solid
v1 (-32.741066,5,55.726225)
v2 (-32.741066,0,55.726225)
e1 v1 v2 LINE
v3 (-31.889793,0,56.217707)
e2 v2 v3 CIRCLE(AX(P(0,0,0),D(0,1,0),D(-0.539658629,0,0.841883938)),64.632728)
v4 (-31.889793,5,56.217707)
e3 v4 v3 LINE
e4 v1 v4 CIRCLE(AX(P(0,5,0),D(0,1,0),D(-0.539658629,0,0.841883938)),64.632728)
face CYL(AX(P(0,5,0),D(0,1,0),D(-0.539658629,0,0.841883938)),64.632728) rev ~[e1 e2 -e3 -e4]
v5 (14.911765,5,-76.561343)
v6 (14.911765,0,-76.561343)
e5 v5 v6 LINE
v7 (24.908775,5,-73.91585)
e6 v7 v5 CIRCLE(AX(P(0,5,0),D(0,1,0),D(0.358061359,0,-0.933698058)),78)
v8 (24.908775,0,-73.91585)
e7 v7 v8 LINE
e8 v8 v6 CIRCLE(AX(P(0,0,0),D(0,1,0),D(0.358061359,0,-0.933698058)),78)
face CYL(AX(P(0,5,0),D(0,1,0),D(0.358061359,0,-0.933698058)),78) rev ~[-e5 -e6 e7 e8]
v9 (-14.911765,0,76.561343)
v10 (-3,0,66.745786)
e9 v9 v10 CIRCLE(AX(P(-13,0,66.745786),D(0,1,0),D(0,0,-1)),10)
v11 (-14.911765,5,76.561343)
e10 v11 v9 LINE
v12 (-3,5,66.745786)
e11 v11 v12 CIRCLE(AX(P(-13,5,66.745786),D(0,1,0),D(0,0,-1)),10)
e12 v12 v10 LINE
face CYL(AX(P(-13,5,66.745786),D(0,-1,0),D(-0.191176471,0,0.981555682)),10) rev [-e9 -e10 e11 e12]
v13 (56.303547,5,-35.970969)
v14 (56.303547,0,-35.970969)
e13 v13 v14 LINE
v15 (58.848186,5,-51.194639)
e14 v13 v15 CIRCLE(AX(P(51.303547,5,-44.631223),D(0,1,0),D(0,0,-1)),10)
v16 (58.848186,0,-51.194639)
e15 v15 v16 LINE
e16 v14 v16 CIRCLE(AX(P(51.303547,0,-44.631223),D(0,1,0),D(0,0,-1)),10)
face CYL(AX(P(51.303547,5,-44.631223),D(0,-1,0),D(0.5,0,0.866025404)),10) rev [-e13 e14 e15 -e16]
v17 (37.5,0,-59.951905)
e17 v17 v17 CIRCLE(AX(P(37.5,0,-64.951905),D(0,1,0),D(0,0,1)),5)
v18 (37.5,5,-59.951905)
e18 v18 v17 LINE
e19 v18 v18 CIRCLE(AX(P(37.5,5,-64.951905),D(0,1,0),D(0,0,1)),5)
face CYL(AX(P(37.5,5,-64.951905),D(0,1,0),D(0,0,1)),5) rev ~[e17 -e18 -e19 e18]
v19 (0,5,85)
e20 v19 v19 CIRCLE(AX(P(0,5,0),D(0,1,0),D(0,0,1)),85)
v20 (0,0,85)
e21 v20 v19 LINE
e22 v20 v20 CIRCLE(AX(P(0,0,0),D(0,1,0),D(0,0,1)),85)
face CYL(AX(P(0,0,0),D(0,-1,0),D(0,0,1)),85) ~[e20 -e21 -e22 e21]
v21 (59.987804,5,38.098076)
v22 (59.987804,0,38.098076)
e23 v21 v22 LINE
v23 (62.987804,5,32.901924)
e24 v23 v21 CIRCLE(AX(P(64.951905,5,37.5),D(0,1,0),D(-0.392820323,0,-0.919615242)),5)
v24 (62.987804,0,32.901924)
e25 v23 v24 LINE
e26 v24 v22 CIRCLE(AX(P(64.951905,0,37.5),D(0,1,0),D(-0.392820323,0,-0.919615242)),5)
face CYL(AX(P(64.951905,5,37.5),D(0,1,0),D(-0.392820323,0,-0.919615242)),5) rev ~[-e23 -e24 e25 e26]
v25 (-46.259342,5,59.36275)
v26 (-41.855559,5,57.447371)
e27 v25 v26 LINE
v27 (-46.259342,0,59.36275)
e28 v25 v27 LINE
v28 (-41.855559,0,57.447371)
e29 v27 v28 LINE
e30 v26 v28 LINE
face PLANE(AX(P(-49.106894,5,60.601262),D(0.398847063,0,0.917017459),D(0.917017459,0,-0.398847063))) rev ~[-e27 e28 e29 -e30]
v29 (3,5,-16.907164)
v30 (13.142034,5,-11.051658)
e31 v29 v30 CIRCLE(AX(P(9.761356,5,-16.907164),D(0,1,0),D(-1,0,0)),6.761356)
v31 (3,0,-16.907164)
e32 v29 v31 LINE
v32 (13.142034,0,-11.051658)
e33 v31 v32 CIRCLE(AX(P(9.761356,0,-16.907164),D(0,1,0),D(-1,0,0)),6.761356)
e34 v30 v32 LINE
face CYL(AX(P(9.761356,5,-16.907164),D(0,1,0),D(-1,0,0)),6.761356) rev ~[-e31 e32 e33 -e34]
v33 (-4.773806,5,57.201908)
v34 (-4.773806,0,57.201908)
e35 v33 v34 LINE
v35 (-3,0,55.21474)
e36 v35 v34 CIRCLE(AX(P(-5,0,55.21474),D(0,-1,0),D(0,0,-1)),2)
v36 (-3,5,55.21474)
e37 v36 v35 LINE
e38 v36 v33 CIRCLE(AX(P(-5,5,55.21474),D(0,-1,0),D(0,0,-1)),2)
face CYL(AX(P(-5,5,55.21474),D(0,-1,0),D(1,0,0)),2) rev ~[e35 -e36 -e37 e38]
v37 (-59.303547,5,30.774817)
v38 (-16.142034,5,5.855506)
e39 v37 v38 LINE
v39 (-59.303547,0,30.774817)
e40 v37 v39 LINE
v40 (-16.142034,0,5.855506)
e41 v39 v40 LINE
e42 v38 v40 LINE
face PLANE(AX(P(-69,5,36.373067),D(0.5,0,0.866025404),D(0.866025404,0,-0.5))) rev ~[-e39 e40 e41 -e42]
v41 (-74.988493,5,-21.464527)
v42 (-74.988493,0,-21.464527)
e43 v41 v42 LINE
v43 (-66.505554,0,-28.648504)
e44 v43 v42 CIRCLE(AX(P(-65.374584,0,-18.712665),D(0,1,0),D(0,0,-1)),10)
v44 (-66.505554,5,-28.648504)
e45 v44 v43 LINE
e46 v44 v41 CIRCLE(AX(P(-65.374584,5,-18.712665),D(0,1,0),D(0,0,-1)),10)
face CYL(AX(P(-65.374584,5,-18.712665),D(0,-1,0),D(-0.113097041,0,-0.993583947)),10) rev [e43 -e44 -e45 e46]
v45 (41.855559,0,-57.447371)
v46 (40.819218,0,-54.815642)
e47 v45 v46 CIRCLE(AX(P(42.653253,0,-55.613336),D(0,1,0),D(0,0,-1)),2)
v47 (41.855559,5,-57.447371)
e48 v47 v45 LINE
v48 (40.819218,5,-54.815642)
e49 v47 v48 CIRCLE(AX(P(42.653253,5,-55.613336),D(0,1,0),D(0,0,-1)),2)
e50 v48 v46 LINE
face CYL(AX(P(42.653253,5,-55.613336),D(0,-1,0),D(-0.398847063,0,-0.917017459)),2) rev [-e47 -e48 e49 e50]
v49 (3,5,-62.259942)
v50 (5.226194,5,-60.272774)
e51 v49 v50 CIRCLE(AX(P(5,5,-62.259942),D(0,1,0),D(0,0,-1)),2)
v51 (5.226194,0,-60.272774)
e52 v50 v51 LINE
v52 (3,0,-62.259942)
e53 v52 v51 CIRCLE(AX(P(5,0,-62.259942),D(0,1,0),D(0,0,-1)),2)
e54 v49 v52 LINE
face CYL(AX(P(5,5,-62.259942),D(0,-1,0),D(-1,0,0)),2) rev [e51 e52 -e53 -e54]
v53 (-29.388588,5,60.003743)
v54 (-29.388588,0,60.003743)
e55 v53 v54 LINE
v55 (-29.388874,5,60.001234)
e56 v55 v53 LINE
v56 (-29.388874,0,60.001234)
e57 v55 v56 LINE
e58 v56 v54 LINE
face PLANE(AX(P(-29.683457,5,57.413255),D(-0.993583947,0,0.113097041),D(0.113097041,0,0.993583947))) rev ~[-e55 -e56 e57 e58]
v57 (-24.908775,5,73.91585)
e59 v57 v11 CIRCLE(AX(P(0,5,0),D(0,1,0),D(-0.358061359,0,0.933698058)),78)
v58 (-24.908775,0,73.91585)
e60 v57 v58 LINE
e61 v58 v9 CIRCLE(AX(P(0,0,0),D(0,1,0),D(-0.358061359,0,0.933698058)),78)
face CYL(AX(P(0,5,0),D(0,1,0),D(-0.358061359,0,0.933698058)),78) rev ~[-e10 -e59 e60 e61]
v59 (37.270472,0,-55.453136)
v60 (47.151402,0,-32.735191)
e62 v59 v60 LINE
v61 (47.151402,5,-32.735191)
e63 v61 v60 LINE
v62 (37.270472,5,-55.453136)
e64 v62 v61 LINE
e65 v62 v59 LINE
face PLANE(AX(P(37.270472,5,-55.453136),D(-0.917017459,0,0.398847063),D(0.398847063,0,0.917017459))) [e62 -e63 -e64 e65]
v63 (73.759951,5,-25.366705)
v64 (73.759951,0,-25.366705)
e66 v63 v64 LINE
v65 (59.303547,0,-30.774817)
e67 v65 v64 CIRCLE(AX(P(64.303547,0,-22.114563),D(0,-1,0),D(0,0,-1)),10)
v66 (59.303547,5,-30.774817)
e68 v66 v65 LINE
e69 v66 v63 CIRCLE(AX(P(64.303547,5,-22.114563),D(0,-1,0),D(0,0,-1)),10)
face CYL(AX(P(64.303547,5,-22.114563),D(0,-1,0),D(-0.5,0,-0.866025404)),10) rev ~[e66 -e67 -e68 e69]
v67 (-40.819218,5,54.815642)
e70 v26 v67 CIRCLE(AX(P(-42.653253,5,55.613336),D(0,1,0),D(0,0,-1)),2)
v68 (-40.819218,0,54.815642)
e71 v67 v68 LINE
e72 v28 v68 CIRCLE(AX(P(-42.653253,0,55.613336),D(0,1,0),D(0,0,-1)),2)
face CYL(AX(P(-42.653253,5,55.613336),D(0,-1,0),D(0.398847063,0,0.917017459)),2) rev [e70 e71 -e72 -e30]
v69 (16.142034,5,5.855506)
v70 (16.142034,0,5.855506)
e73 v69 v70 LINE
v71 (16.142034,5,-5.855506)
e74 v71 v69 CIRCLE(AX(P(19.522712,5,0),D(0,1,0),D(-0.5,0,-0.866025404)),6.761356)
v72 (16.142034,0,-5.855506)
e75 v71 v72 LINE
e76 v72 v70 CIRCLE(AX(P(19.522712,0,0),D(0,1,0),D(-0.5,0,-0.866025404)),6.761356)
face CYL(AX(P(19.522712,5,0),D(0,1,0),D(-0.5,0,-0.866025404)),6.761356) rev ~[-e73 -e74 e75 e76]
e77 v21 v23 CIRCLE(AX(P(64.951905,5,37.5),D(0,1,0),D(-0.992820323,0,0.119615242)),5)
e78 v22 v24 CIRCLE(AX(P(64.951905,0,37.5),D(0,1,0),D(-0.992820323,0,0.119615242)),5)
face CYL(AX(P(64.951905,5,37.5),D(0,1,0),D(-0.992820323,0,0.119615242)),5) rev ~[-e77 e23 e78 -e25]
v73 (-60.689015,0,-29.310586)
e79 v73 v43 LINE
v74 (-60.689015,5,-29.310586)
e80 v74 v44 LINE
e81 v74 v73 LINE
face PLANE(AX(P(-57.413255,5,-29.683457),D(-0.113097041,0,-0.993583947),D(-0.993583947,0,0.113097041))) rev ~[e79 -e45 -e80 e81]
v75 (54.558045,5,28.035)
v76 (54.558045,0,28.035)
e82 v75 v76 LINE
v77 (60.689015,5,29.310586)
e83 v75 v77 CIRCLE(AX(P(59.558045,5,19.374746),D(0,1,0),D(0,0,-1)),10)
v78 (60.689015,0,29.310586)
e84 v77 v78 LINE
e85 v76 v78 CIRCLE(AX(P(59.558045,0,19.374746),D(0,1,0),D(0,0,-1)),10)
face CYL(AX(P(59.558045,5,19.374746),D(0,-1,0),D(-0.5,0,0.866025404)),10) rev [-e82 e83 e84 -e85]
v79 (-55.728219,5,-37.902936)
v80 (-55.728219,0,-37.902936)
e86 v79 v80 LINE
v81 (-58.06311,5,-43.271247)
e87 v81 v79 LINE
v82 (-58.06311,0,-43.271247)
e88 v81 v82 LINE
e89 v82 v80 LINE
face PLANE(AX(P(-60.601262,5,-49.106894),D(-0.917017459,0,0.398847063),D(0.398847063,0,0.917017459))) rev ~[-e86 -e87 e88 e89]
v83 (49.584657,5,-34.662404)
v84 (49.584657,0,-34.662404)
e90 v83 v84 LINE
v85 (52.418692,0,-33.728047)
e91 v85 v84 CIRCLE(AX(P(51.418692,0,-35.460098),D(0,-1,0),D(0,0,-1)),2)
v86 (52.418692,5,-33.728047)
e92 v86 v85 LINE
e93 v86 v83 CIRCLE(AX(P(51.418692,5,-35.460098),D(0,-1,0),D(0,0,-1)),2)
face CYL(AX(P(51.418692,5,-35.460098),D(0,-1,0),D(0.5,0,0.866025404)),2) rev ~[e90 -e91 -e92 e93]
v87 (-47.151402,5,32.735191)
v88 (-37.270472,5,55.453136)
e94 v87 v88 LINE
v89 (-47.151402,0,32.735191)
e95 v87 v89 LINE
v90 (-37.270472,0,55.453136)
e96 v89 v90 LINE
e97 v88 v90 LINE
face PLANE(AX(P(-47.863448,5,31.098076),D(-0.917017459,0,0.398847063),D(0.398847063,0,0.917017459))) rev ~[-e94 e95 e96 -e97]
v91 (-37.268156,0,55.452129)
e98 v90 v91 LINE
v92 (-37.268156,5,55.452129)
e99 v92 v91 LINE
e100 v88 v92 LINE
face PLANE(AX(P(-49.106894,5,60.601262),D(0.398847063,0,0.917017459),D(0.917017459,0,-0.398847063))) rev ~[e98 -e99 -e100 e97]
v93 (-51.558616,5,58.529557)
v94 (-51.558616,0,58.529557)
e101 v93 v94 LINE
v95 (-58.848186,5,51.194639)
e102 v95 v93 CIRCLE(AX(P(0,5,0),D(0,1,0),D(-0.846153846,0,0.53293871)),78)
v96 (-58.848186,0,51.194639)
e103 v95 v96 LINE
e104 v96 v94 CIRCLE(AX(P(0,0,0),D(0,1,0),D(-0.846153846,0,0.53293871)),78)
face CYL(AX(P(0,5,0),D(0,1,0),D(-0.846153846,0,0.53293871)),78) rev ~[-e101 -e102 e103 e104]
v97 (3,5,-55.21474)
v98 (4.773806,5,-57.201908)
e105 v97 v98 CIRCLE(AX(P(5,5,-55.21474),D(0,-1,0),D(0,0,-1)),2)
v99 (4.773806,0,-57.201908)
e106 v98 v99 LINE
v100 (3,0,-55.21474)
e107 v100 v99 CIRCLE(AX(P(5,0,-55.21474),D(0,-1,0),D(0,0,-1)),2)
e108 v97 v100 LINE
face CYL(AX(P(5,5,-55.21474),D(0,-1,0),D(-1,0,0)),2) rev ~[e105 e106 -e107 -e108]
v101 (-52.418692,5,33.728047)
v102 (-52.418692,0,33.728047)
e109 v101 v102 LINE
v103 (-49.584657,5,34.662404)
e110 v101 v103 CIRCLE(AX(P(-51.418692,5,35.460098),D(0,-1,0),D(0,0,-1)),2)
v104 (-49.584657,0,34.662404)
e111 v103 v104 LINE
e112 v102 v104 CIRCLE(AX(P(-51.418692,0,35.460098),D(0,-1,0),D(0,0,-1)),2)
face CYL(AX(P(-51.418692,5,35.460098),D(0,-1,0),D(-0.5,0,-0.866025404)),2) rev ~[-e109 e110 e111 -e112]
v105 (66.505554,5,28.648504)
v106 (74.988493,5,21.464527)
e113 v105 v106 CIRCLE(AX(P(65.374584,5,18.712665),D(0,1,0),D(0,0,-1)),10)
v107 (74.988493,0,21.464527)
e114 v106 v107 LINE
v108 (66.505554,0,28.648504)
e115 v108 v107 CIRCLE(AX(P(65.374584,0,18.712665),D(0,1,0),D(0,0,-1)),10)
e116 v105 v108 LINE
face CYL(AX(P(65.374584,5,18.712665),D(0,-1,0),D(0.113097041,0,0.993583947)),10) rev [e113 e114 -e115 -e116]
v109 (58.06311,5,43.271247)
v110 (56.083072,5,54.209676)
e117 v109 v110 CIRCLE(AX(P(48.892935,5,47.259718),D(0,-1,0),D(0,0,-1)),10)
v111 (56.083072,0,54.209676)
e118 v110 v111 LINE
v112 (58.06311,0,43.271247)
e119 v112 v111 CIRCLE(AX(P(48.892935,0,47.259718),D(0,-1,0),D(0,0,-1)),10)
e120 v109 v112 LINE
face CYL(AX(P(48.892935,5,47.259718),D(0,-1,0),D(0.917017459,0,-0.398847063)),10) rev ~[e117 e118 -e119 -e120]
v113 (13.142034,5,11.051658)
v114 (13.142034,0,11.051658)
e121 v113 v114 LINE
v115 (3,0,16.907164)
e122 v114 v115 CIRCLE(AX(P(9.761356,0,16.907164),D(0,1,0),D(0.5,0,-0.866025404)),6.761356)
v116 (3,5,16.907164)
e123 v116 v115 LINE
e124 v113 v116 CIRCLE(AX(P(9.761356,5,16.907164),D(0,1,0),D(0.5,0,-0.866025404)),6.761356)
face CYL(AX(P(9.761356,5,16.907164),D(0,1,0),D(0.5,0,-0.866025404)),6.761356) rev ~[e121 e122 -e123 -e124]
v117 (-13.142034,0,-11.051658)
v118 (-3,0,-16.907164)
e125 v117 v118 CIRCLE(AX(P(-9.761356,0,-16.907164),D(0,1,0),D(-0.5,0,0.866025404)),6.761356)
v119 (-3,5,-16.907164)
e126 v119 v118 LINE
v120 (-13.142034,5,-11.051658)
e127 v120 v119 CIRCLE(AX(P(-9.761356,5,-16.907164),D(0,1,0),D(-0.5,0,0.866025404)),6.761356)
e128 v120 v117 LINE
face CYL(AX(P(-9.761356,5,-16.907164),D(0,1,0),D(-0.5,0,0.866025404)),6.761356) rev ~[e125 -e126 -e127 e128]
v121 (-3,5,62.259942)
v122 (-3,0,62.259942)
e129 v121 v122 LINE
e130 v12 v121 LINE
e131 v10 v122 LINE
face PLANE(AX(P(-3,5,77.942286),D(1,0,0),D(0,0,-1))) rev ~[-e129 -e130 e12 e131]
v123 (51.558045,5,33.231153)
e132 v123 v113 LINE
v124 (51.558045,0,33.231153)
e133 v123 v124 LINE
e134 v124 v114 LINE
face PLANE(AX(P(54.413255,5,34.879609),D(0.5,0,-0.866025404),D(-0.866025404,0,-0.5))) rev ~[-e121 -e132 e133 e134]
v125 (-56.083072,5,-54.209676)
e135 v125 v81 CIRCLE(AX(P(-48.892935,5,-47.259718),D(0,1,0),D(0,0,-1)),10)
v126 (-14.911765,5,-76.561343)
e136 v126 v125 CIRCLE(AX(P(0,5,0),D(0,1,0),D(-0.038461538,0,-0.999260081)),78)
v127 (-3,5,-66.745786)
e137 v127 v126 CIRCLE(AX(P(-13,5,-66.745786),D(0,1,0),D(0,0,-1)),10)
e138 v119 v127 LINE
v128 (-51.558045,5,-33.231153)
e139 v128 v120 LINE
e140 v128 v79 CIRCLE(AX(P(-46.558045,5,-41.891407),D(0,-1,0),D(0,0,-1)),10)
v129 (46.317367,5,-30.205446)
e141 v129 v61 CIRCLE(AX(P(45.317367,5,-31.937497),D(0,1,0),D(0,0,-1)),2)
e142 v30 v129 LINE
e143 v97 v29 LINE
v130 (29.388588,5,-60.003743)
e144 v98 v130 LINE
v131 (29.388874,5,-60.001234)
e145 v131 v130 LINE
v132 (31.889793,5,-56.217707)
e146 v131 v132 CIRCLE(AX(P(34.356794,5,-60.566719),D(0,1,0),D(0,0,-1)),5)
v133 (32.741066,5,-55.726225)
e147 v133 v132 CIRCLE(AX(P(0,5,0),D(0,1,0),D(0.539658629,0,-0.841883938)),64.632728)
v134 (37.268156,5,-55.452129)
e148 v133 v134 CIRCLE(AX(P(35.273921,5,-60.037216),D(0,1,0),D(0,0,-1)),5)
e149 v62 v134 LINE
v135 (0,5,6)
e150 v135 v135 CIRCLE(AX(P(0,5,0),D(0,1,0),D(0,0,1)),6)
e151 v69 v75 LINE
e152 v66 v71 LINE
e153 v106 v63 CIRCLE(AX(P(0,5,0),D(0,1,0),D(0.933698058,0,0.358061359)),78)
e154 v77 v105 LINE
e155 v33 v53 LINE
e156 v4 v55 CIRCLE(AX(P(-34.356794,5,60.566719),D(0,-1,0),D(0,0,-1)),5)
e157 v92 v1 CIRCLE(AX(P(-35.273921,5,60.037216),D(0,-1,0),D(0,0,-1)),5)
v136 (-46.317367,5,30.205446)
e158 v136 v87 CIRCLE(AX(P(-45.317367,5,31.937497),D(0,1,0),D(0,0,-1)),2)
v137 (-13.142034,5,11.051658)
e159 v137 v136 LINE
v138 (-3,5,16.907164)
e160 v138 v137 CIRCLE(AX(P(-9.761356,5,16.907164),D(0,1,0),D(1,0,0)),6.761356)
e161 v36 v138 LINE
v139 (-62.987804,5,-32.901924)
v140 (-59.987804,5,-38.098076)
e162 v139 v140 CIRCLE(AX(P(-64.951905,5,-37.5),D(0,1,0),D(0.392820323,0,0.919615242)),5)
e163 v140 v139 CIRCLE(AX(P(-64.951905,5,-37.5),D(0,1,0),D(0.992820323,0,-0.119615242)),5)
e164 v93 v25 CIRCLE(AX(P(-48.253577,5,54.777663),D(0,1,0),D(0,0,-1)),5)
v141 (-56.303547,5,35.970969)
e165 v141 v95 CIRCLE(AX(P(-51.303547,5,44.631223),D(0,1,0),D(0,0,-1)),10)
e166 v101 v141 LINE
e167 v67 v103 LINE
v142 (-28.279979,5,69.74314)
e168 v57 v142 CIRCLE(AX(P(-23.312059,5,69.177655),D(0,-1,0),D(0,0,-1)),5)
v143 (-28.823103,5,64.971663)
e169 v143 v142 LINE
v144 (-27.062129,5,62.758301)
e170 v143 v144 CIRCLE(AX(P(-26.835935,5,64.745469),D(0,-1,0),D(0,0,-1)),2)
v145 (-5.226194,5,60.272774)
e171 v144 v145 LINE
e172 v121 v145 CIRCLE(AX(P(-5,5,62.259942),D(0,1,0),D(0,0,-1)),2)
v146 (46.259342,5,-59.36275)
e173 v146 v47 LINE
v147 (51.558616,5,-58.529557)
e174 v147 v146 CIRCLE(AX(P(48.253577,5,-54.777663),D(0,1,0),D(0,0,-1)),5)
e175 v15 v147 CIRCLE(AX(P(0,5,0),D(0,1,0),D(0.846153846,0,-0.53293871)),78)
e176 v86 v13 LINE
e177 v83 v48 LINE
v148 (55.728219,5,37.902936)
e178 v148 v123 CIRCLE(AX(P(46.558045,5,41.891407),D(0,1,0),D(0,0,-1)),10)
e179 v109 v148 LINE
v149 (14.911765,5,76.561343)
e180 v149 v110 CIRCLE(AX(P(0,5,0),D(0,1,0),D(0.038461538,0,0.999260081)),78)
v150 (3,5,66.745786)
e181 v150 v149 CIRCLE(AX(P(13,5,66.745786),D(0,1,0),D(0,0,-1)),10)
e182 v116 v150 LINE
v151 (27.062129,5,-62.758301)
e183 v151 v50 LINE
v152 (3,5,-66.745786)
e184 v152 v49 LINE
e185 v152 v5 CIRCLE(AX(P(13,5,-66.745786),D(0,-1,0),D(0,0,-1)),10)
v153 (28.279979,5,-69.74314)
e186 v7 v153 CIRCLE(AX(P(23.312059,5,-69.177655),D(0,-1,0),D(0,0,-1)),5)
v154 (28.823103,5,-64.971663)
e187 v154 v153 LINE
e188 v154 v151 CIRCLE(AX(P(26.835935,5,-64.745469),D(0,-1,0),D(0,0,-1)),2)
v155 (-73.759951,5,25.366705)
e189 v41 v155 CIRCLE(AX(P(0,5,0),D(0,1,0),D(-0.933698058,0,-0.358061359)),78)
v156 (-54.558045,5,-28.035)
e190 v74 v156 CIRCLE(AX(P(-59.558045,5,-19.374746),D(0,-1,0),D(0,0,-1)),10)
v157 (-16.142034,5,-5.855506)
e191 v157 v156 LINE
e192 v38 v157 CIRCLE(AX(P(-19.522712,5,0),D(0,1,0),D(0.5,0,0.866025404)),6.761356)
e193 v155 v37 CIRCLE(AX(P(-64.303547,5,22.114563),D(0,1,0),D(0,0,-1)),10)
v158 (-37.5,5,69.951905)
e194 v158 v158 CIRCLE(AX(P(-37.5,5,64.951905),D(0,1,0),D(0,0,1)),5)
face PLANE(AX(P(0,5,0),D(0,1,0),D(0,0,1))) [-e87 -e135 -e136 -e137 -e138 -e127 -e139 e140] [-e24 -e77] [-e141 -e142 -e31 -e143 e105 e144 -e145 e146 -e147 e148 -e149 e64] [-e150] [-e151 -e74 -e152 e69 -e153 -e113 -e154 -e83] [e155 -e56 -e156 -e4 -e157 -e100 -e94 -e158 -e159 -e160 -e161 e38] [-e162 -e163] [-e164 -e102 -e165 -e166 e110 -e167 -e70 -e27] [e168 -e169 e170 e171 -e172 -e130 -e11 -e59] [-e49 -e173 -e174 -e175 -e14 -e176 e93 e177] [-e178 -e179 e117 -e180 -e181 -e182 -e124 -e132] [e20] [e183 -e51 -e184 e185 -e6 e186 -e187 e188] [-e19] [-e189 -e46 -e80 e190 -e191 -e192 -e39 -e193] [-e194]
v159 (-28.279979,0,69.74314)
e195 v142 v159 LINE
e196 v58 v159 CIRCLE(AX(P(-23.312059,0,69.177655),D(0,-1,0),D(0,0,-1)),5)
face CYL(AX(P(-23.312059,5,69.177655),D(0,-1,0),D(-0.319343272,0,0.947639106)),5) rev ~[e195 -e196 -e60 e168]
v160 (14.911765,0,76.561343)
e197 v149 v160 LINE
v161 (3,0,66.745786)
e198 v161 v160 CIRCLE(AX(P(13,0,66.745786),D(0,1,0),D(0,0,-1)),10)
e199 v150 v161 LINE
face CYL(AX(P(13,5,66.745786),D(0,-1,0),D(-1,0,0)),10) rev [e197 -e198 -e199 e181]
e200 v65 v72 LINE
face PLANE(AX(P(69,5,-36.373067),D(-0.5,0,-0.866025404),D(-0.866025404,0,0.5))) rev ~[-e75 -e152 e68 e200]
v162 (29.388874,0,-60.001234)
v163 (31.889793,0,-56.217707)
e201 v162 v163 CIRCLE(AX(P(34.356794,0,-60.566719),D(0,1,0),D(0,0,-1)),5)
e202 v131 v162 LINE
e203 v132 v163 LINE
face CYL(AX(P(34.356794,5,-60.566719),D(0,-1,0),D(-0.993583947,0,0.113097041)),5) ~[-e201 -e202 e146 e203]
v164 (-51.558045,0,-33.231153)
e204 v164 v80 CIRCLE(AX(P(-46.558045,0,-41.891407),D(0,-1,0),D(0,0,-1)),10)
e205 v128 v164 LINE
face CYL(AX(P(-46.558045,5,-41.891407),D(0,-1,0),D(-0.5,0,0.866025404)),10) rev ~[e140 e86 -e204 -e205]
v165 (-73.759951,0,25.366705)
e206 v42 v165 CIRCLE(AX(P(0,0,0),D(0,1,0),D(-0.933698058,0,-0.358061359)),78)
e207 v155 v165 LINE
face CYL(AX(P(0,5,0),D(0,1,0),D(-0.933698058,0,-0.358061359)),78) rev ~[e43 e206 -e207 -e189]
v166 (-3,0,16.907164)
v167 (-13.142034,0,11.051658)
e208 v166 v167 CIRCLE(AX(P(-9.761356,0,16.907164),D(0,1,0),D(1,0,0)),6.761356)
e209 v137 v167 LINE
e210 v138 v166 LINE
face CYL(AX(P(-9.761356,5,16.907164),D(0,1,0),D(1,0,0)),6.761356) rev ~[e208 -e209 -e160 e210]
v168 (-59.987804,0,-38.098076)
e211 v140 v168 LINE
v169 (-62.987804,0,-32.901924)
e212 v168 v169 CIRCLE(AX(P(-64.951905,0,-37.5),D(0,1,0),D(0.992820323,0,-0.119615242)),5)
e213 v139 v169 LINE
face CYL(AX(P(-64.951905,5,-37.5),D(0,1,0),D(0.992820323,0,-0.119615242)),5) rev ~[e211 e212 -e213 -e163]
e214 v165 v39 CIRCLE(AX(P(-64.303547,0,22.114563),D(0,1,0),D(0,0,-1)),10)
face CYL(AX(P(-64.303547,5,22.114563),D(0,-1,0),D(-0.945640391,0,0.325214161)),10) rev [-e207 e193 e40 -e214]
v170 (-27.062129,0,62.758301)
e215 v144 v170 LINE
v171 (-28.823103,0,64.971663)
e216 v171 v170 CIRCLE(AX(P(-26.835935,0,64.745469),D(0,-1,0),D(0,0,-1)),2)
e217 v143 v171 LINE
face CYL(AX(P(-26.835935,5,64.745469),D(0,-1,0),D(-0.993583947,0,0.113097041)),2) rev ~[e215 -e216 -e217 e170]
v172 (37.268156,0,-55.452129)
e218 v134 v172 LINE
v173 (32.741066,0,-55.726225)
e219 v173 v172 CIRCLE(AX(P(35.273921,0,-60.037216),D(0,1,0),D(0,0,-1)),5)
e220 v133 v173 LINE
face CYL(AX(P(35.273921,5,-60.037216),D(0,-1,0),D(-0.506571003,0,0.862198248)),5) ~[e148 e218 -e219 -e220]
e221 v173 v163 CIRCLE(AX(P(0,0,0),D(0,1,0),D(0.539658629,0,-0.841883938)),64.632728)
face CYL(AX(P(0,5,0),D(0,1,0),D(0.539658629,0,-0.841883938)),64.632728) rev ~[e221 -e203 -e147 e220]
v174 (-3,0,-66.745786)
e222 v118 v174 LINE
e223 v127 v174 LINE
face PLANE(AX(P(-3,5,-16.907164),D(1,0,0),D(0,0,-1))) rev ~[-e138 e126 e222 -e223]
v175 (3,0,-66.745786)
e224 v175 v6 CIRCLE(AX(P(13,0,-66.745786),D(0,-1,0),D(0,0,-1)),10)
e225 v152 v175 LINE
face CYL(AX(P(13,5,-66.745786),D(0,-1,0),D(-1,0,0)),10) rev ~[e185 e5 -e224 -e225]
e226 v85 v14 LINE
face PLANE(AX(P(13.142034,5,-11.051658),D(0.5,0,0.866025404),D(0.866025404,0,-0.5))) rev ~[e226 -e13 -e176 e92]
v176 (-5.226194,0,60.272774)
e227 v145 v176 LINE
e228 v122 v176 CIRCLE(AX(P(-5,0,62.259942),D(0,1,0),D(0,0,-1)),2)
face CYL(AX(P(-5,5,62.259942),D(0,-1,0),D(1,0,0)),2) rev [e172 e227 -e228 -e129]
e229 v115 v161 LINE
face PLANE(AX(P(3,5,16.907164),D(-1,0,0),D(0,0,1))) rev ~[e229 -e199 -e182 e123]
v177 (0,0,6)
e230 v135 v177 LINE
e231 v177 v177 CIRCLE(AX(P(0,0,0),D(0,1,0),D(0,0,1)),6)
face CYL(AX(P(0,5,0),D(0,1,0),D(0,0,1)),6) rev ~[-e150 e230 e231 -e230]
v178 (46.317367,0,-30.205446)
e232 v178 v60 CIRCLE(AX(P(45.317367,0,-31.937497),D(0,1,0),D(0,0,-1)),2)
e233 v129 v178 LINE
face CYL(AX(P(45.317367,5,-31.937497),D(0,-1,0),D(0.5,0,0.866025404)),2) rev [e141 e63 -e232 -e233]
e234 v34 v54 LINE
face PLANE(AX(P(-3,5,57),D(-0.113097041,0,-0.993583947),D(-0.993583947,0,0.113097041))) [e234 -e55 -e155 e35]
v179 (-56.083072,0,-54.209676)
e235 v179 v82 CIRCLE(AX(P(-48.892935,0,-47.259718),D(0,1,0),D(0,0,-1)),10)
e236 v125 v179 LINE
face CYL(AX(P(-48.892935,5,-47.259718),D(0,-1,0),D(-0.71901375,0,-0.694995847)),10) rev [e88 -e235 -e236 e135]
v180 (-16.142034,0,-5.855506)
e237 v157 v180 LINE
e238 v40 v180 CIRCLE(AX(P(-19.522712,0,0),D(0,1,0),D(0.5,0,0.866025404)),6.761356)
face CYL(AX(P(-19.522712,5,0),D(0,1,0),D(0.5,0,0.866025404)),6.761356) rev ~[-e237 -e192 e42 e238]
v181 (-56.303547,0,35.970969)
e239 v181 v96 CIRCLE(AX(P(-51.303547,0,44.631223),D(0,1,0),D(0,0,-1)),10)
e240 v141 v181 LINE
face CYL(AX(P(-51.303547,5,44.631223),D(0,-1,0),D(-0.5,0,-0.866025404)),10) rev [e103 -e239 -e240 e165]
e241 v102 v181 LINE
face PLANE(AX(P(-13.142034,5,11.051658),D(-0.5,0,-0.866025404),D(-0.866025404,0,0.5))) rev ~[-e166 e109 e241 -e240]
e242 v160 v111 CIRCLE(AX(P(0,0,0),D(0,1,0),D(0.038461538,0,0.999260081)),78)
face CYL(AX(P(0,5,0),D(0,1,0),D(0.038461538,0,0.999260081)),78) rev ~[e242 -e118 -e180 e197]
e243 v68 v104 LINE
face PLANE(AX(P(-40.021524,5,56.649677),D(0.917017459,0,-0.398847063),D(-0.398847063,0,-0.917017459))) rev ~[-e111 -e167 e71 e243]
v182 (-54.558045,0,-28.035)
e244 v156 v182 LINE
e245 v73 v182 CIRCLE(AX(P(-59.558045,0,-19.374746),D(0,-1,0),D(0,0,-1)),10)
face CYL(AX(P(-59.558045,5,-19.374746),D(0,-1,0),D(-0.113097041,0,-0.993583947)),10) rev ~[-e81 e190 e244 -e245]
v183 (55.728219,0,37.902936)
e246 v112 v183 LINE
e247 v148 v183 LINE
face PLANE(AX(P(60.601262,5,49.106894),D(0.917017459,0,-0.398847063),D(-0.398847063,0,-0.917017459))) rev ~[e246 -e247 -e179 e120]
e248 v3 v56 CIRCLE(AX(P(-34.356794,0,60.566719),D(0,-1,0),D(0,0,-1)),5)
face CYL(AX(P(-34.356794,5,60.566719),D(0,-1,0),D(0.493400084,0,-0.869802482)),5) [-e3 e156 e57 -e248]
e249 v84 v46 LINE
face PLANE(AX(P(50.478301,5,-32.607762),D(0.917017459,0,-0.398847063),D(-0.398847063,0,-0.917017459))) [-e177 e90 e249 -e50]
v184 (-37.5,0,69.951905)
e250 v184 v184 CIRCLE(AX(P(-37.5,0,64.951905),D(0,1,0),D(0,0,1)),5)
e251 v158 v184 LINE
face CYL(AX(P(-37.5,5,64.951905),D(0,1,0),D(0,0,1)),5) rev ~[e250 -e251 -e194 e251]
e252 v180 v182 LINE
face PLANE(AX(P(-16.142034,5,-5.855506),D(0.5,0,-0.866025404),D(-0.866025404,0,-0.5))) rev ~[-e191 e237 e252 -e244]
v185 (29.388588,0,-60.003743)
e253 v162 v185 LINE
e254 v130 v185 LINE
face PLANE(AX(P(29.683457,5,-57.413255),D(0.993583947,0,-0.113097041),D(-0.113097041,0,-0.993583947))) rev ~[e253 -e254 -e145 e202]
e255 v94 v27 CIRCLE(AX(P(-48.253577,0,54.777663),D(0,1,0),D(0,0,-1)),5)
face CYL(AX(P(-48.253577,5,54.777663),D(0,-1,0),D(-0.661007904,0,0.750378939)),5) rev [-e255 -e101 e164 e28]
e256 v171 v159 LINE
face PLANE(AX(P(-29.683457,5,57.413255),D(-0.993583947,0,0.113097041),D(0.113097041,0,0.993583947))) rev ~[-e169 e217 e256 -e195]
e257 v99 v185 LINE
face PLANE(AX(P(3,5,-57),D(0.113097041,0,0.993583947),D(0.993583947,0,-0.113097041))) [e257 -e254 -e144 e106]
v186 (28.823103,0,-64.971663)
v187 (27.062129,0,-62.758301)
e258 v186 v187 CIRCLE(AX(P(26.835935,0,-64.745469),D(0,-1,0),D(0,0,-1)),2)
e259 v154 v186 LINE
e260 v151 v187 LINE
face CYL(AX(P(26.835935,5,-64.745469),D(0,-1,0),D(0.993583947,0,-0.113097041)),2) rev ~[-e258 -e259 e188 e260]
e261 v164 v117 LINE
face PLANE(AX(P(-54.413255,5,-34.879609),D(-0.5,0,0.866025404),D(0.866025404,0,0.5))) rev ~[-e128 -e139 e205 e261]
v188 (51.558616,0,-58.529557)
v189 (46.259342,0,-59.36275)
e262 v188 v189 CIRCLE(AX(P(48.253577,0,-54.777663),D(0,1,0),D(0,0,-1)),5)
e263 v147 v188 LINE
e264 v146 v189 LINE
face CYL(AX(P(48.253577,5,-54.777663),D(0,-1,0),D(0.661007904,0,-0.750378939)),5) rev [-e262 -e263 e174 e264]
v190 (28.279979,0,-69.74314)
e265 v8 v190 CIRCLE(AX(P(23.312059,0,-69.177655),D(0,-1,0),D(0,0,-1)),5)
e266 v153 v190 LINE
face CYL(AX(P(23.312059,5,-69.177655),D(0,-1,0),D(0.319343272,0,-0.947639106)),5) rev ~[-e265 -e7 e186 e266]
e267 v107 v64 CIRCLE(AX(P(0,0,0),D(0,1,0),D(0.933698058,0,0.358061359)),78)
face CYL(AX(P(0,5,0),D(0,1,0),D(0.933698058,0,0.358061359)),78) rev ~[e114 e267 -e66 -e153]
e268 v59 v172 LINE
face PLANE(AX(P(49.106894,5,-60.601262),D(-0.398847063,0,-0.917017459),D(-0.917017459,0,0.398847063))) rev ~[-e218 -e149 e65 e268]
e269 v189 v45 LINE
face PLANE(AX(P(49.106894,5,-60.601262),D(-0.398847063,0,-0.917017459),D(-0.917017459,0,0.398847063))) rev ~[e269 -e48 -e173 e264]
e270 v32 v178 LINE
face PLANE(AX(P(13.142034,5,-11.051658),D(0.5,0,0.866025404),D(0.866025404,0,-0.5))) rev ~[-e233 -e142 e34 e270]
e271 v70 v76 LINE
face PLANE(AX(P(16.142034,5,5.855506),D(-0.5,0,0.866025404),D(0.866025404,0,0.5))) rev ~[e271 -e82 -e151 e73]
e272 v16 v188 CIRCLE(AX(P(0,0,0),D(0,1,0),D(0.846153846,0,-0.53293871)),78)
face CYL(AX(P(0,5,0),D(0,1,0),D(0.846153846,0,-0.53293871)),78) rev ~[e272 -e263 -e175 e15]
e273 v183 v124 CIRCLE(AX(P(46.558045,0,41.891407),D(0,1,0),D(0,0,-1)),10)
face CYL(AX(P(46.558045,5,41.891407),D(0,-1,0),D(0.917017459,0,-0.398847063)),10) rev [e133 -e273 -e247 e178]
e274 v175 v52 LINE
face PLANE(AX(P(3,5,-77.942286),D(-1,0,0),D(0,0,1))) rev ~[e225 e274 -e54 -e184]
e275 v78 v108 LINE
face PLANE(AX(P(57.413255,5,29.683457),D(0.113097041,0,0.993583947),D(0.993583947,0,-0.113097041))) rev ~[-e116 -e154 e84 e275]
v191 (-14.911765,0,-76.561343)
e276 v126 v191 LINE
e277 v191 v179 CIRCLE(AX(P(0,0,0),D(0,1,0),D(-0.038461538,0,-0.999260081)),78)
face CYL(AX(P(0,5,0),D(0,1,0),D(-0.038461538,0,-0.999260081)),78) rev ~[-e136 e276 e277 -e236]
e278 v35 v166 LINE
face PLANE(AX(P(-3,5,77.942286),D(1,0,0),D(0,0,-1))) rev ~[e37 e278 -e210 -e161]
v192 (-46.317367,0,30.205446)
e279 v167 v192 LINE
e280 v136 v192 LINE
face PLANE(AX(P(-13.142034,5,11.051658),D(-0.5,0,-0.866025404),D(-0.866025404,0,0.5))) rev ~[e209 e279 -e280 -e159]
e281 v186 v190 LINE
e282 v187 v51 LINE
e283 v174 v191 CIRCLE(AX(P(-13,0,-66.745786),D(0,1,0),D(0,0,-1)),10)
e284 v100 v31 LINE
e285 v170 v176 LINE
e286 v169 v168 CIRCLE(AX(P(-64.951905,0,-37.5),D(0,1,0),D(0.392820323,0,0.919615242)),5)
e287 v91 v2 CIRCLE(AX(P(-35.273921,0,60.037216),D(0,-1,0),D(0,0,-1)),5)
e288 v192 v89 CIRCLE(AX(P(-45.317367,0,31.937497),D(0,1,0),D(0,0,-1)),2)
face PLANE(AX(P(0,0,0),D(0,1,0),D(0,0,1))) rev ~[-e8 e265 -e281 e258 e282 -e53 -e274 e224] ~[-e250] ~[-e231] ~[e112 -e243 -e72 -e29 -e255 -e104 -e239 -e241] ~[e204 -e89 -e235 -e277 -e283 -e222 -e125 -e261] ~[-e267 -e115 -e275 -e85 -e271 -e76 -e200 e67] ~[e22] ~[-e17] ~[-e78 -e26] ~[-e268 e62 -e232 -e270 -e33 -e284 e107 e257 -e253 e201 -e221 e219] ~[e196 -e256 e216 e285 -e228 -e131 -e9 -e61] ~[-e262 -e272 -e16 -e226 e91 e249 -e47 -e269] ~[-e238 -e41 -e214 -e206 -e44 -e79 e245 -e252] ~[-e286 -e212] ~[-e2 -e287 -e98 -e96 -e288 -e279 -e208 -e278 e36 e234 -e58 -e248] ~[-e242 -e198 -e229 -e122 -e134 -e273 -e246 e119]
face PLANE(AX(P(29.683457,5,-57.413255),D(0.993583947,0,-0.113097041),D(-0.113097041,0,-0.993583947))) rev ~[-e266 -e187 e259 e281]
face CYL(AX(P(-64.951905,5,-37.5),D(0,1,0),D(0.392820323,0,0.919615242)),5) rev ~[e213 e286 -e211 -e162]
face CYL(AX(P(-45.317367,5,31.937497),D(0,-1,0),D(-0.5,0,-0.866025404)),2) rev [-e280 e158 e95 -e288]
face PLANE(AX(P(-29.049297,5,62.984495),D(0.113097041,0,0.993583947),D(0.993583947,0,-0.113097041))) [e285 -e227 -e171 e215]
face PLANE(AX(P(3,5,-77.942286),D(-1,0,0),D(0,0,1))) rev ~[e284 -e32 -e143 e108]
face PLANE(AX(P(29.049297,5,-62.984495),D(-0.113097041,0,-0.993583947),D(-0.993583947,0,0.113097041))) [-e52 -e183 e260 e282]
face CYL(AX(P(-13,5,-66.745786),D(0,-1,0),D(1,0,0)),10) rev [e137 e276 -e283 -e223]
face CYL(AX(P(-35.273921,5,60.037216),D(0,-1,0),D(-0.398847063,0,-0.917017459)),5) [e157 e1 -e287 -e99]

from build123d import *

# Parameters (mm, degrees)
SZKIC1_R                    = 85
DODANIE_WYCI_GNI_CIE1_DEPTH = 5
SZKIC2_R                    = 5
SZKIC2_R_2                  = 6
WYTNIJ_WYCI_GNI_CIE2_DEPTH  = 5
ZAOKR_GLENIE2_R             = 10
ZAOKR_GLENIE4_R             = 10
ZAOKR_GLENIE5_R             = 5
DODANIE_WYCI_GNI_CIE2_DEPTH = 5
ZAOKR_GLENIE6_R             = 2


with BuildPart() as part:
    # Szkic1 → Dodanie-wyciągnięcie1 (new body)
    with BuildSketch(Plane(origin=(0, 0, 0), x_dir=(1, 0, 0), z_dir=(0, 1, 0))):
        with Locations(Location((0, 0, 0), (0, 0, 270))):
            Circle(SZKIC1_R)
    extrude(amount=DODANIE_WYCI_GNI_CIE1_DEPTH)

    # Szkic2 → Wytnij-wyciągnięcie2 (cut)
    with BuildSketch(Plane(origin=(0, 5, 0), x_dir=(1, 0, 0), z_dir=(0, 1, 0))):
        with BuildLine():
            Line((3, 77.942286341), (3, 16.907164233))
            ThreePointArc((3, 16.907164233), (6.38067791, 11.051658328), (13.142033731, 11.051658328))
            Line((13.142033731, 11.051658328), (66, 41.569219382))
            ThreePointArc((66, 41.569219382), (58.334842927, 51.778819035), (49.106893514, 60.601262441))
            Line((49.106893514, 60.601262441), (34.87960923, 54.413255334))
            ThreePointArc((34.87960923, 54.413255334), (32.316363874, 55.973584145), (29.683456807, 57.413255334))
            Line((29.683456807, 57.413255334), (27.928786019, 72.828448504))
            ThreePointArc((27.928786019, 72.828448504), (15.674351199, 76.408865418), (3, 77.942286341))
        make_face()
        with BuildLine():
            ThreePointArc((-13.142033731, 11.051658328), (-6.38067791, 11.051658328), (-3, 16.907164233))
            Line((-3, 16.907164233), (-3, 77.942286341))
            ThreePointArc((-3, 77.942286341), (-34.916330218, 69.748475855), (-60.601262441, 49.106893514))
            Line((-60.601262441, 49.106893514), (-54.413255334, 34.87960923))
            Line((-54.413255334, 34.87960923), (-13.142033731, 11.051658328))
        make_face()
        with BuildLine():
            Line((69, 36.373066959), (16.142033731, 5.855505905))
            ThreePointArc((16.142033731, 5.855505905), (12.761355821, 0), (16.142033731, -5.855505905))
            Line((16.142033731, -5.855505905), (57.413255334, -29.683456807))
            Line((57.413255334, -29.683456807), (72.828448504, -27.928786019))
            ThreePointArc((72.828448504, -27.928786019), (77.862117075, 4.635808952), (69, 36.373066959))
        make_face()
        with BuildLine():
            ThreePointArc((-16.142033731, -5.855505905), (-12.761355821, 0), (-16.142033731, 5.855505905))
            Line((-16.142033731, 5.855505905), (-57.413255334, 29.683456807))
            Line((-57.413255334, 29.683456807), (-72.828448504, 27.928786019))
            ThreePointArc((-72.828448504, 27.928786019), (-77.862117075, -4.635808952), (-69, -36.373066959))
            Line((-69, -36.373066959), (-16.142033731, -5.855505905))
        make_face()
        with BuildLine():
            ThreePointArc((-62.987803669, 32.901923789), (-60.621778265, 35), (-59.987803669, 38.098076211))
            ThreePointArc((-59.987803669, 38.098076211), (-69.282032303, 40), (-62.987803669, 32.901923789))
        make_face()
        with BuildLine():
            ThreePointArc((59.987803669, -38.098076211), (69.282032303, -40), (62.987803669, -32.901923789))
            ThreePointArc((62.987803669, -32.901923789), (60.621778265, -35), (59.987803669, -38.098076211))
        make_face()
        with BuildLine():
            Line((60.601262441, -49.106893514), (54.413255334, -34.87960923))
            Line((54.413255334, -34.87960923), (13.142033731, -11.051658328))
            ThreePointArc((13.142033731, -11.051658328), (6.38067791, -11.051658328), (3, -16.907164233))
            Line((3, -16.907164233), (3, -77.942286341))
            ThreePointArc((3, -77.942286341), (34.916330218, -69.748475855), (60.601262441, -49.106893514))
        make_face()
        with BuildLine():
            ThreePointArc((-3, -16.907164233), (-6.38067791, -11.051658328), (-13.142033731, -11.051658328))
            Line((-13.142033731, -11.051658328), (-66, -41.569219382))
            ThreePointArc((-66, -41.569219382), (-58.334842927, -51.778819035), (-49.106893514, -60.601262441))
            Line((-49.106893514, -60.601262441), (-34.87960923, -54.413255334))
            ThreePointArc((-34.87960923, -54.413255334), (-32.316363874, -55.973584145), (-29.683456807, -57.413255334))
            Line((-29.683456807, -57.413255334), (-27.928786019, -72.828448504))
            ThreePointArc((-27.928786019, -72.828448504), (-15.674351199, -76.408865418), (-3, -77.942286341))
            Line((-3, -77.942286341), (-3, -16.907164233))
        make_face()
        with Locations(Location((-37.5, -64.951905284, 0), (0, 0, 270))):
            Circle(SZKIC2_R)
        with Locations(Location((37.5, 64.951905284, 0), (0, 0, 270))):
            Circle(SZKIC2_R)
        with Locations(Location((0, 0, 0), (0, 0, 270))):
            Circle(SZKIC2_R_2)
    extrude(amount=-WYTNIJ_WYCI_GNI_CIE2_DEPTH, mode=Mode.SUBTRACT)

    # Zaokrąglenie2
    zaokr_glenie2_edges = [part.edges().sort_by_distance(p)[0] for p in [
        (-60.601262441, 2.5, -49.106893514),
        (-3, 2.5, -77.942286341),
        (-69, 2.5, 36.373066959),
        (-72.828448504, 2.5, -27.928786019),
        (69, 2.5, -36.373066959),
        (72.828448504, 2.5, 27.928786019),
        (3, 2.5, -77.942286341),
        (66, 2.5, -41.569219382),
        (60.601262441, 2.5, 49.106893514),
        (3, 2.5, 77.942286341),
        (-3, 2.5, 77.942286341),
        (-66, 2.5, 41.569219382),
    ]]
    fillet(zaokr_glenie2_edges, radius=ZAOKR_GLENIE2_R)

    # Zaokrąglenie4
    zaokr_glenie4_edges = [part.edges().sort_by_distance(p)[0] for p in [
        (-54.413255334, 2.5, -34.87960923),
        (-57.413255334, 2.5, -29.683456807),
        (57.413255334, 2.5, 29.683456807),
        (54.413255334, 2.5, 34.87960923),
    ]]
    fillet(zaokr_glenie4_edges, radius=ZAOKR_GLENIE4_R)

    # Zaokrąglenie5
    zaokr_glenie5_edges = [part.edges().sort_by_distance(p)[0] for p in [
        (27.928786019, 2.5, -72.828448504),
        (29.683456807, 2.5, -57.413255334),
        (34.87960923, 2.5, -54.413255334),
        (49.106893514, 2.5, -60.601262441),
        (-27.928786019, 2.5, 72.828448504),
        (-29.683456807, 2.5, 57.413255334),
        (-34.87960923, 2.5, 54.413255334),
        (-49.106893514, 2.5, 60.601262441),
    ]]
    fillet(zaokr_glenie5_edges, radius=ZAOKR_GLENIE5_R)

    # Szkic3 → Dodanie-wyciągnięcie2 (add, through all)
    with BuildSketch(Plane(origin=(0, 5, 0), x_dir=(1, 0, 0), z_dir=(0, 1, 0))):
        Polygon((3, 57), (29.388588378, 60.003743428), (29.049297257, 62.984495269), (3, 60.019372454), align=None)
        Polygon((40.021524319, 56.649677021), (37.270471942, 55.453135831), (47.863448016, 31.098076211), (50.478301265, 32.607762438), align=None)
        Polygon((-47.863448016, -31.098076211), (-37.270471942, -55.453135831), (-40.021524319, -56.649677021), (-50.478301265, -32.607762438), align=None)
        Polygon((-3, -60.019372454), (-3, -57), (-29.388588378, -60.003743428), (-29.049297257, -62.984495269), align=None)
    extrude(amount=-DODANIE_WYCI_GNI_CIE2_DEPTH)

    # Zaokrąglenie6
    zaokr_glenie6_edges = [part.edges().sort_by_distance(p)[0] for p in [
        (3, 2.5, -57),
        (3, 2.5, -60.019372454),
        (29.049297257, 2.5, -62.984495269),
        (40.021524319, 2.5, -56.649677021),
        (50.478301265, 2.5, -32.607762438),
        (47.863448016, 2.5, -31.098076211),
        (-50.478301265, 2.5, 32.607762438),
        (-47.863448016, 2.5, 31.098076211),
        (-40.021524319, 2.5, 56.649677021),
        (-3, 2.5, 60.019372454),
        (-29.049297257, 2.5, 62.984495269),
        (-3, 2.5, 57),
    ]]
    fillet(zaokr_glenie6_edges, radius=ZAOKR_GLENIE6_R)


solid = part.part
